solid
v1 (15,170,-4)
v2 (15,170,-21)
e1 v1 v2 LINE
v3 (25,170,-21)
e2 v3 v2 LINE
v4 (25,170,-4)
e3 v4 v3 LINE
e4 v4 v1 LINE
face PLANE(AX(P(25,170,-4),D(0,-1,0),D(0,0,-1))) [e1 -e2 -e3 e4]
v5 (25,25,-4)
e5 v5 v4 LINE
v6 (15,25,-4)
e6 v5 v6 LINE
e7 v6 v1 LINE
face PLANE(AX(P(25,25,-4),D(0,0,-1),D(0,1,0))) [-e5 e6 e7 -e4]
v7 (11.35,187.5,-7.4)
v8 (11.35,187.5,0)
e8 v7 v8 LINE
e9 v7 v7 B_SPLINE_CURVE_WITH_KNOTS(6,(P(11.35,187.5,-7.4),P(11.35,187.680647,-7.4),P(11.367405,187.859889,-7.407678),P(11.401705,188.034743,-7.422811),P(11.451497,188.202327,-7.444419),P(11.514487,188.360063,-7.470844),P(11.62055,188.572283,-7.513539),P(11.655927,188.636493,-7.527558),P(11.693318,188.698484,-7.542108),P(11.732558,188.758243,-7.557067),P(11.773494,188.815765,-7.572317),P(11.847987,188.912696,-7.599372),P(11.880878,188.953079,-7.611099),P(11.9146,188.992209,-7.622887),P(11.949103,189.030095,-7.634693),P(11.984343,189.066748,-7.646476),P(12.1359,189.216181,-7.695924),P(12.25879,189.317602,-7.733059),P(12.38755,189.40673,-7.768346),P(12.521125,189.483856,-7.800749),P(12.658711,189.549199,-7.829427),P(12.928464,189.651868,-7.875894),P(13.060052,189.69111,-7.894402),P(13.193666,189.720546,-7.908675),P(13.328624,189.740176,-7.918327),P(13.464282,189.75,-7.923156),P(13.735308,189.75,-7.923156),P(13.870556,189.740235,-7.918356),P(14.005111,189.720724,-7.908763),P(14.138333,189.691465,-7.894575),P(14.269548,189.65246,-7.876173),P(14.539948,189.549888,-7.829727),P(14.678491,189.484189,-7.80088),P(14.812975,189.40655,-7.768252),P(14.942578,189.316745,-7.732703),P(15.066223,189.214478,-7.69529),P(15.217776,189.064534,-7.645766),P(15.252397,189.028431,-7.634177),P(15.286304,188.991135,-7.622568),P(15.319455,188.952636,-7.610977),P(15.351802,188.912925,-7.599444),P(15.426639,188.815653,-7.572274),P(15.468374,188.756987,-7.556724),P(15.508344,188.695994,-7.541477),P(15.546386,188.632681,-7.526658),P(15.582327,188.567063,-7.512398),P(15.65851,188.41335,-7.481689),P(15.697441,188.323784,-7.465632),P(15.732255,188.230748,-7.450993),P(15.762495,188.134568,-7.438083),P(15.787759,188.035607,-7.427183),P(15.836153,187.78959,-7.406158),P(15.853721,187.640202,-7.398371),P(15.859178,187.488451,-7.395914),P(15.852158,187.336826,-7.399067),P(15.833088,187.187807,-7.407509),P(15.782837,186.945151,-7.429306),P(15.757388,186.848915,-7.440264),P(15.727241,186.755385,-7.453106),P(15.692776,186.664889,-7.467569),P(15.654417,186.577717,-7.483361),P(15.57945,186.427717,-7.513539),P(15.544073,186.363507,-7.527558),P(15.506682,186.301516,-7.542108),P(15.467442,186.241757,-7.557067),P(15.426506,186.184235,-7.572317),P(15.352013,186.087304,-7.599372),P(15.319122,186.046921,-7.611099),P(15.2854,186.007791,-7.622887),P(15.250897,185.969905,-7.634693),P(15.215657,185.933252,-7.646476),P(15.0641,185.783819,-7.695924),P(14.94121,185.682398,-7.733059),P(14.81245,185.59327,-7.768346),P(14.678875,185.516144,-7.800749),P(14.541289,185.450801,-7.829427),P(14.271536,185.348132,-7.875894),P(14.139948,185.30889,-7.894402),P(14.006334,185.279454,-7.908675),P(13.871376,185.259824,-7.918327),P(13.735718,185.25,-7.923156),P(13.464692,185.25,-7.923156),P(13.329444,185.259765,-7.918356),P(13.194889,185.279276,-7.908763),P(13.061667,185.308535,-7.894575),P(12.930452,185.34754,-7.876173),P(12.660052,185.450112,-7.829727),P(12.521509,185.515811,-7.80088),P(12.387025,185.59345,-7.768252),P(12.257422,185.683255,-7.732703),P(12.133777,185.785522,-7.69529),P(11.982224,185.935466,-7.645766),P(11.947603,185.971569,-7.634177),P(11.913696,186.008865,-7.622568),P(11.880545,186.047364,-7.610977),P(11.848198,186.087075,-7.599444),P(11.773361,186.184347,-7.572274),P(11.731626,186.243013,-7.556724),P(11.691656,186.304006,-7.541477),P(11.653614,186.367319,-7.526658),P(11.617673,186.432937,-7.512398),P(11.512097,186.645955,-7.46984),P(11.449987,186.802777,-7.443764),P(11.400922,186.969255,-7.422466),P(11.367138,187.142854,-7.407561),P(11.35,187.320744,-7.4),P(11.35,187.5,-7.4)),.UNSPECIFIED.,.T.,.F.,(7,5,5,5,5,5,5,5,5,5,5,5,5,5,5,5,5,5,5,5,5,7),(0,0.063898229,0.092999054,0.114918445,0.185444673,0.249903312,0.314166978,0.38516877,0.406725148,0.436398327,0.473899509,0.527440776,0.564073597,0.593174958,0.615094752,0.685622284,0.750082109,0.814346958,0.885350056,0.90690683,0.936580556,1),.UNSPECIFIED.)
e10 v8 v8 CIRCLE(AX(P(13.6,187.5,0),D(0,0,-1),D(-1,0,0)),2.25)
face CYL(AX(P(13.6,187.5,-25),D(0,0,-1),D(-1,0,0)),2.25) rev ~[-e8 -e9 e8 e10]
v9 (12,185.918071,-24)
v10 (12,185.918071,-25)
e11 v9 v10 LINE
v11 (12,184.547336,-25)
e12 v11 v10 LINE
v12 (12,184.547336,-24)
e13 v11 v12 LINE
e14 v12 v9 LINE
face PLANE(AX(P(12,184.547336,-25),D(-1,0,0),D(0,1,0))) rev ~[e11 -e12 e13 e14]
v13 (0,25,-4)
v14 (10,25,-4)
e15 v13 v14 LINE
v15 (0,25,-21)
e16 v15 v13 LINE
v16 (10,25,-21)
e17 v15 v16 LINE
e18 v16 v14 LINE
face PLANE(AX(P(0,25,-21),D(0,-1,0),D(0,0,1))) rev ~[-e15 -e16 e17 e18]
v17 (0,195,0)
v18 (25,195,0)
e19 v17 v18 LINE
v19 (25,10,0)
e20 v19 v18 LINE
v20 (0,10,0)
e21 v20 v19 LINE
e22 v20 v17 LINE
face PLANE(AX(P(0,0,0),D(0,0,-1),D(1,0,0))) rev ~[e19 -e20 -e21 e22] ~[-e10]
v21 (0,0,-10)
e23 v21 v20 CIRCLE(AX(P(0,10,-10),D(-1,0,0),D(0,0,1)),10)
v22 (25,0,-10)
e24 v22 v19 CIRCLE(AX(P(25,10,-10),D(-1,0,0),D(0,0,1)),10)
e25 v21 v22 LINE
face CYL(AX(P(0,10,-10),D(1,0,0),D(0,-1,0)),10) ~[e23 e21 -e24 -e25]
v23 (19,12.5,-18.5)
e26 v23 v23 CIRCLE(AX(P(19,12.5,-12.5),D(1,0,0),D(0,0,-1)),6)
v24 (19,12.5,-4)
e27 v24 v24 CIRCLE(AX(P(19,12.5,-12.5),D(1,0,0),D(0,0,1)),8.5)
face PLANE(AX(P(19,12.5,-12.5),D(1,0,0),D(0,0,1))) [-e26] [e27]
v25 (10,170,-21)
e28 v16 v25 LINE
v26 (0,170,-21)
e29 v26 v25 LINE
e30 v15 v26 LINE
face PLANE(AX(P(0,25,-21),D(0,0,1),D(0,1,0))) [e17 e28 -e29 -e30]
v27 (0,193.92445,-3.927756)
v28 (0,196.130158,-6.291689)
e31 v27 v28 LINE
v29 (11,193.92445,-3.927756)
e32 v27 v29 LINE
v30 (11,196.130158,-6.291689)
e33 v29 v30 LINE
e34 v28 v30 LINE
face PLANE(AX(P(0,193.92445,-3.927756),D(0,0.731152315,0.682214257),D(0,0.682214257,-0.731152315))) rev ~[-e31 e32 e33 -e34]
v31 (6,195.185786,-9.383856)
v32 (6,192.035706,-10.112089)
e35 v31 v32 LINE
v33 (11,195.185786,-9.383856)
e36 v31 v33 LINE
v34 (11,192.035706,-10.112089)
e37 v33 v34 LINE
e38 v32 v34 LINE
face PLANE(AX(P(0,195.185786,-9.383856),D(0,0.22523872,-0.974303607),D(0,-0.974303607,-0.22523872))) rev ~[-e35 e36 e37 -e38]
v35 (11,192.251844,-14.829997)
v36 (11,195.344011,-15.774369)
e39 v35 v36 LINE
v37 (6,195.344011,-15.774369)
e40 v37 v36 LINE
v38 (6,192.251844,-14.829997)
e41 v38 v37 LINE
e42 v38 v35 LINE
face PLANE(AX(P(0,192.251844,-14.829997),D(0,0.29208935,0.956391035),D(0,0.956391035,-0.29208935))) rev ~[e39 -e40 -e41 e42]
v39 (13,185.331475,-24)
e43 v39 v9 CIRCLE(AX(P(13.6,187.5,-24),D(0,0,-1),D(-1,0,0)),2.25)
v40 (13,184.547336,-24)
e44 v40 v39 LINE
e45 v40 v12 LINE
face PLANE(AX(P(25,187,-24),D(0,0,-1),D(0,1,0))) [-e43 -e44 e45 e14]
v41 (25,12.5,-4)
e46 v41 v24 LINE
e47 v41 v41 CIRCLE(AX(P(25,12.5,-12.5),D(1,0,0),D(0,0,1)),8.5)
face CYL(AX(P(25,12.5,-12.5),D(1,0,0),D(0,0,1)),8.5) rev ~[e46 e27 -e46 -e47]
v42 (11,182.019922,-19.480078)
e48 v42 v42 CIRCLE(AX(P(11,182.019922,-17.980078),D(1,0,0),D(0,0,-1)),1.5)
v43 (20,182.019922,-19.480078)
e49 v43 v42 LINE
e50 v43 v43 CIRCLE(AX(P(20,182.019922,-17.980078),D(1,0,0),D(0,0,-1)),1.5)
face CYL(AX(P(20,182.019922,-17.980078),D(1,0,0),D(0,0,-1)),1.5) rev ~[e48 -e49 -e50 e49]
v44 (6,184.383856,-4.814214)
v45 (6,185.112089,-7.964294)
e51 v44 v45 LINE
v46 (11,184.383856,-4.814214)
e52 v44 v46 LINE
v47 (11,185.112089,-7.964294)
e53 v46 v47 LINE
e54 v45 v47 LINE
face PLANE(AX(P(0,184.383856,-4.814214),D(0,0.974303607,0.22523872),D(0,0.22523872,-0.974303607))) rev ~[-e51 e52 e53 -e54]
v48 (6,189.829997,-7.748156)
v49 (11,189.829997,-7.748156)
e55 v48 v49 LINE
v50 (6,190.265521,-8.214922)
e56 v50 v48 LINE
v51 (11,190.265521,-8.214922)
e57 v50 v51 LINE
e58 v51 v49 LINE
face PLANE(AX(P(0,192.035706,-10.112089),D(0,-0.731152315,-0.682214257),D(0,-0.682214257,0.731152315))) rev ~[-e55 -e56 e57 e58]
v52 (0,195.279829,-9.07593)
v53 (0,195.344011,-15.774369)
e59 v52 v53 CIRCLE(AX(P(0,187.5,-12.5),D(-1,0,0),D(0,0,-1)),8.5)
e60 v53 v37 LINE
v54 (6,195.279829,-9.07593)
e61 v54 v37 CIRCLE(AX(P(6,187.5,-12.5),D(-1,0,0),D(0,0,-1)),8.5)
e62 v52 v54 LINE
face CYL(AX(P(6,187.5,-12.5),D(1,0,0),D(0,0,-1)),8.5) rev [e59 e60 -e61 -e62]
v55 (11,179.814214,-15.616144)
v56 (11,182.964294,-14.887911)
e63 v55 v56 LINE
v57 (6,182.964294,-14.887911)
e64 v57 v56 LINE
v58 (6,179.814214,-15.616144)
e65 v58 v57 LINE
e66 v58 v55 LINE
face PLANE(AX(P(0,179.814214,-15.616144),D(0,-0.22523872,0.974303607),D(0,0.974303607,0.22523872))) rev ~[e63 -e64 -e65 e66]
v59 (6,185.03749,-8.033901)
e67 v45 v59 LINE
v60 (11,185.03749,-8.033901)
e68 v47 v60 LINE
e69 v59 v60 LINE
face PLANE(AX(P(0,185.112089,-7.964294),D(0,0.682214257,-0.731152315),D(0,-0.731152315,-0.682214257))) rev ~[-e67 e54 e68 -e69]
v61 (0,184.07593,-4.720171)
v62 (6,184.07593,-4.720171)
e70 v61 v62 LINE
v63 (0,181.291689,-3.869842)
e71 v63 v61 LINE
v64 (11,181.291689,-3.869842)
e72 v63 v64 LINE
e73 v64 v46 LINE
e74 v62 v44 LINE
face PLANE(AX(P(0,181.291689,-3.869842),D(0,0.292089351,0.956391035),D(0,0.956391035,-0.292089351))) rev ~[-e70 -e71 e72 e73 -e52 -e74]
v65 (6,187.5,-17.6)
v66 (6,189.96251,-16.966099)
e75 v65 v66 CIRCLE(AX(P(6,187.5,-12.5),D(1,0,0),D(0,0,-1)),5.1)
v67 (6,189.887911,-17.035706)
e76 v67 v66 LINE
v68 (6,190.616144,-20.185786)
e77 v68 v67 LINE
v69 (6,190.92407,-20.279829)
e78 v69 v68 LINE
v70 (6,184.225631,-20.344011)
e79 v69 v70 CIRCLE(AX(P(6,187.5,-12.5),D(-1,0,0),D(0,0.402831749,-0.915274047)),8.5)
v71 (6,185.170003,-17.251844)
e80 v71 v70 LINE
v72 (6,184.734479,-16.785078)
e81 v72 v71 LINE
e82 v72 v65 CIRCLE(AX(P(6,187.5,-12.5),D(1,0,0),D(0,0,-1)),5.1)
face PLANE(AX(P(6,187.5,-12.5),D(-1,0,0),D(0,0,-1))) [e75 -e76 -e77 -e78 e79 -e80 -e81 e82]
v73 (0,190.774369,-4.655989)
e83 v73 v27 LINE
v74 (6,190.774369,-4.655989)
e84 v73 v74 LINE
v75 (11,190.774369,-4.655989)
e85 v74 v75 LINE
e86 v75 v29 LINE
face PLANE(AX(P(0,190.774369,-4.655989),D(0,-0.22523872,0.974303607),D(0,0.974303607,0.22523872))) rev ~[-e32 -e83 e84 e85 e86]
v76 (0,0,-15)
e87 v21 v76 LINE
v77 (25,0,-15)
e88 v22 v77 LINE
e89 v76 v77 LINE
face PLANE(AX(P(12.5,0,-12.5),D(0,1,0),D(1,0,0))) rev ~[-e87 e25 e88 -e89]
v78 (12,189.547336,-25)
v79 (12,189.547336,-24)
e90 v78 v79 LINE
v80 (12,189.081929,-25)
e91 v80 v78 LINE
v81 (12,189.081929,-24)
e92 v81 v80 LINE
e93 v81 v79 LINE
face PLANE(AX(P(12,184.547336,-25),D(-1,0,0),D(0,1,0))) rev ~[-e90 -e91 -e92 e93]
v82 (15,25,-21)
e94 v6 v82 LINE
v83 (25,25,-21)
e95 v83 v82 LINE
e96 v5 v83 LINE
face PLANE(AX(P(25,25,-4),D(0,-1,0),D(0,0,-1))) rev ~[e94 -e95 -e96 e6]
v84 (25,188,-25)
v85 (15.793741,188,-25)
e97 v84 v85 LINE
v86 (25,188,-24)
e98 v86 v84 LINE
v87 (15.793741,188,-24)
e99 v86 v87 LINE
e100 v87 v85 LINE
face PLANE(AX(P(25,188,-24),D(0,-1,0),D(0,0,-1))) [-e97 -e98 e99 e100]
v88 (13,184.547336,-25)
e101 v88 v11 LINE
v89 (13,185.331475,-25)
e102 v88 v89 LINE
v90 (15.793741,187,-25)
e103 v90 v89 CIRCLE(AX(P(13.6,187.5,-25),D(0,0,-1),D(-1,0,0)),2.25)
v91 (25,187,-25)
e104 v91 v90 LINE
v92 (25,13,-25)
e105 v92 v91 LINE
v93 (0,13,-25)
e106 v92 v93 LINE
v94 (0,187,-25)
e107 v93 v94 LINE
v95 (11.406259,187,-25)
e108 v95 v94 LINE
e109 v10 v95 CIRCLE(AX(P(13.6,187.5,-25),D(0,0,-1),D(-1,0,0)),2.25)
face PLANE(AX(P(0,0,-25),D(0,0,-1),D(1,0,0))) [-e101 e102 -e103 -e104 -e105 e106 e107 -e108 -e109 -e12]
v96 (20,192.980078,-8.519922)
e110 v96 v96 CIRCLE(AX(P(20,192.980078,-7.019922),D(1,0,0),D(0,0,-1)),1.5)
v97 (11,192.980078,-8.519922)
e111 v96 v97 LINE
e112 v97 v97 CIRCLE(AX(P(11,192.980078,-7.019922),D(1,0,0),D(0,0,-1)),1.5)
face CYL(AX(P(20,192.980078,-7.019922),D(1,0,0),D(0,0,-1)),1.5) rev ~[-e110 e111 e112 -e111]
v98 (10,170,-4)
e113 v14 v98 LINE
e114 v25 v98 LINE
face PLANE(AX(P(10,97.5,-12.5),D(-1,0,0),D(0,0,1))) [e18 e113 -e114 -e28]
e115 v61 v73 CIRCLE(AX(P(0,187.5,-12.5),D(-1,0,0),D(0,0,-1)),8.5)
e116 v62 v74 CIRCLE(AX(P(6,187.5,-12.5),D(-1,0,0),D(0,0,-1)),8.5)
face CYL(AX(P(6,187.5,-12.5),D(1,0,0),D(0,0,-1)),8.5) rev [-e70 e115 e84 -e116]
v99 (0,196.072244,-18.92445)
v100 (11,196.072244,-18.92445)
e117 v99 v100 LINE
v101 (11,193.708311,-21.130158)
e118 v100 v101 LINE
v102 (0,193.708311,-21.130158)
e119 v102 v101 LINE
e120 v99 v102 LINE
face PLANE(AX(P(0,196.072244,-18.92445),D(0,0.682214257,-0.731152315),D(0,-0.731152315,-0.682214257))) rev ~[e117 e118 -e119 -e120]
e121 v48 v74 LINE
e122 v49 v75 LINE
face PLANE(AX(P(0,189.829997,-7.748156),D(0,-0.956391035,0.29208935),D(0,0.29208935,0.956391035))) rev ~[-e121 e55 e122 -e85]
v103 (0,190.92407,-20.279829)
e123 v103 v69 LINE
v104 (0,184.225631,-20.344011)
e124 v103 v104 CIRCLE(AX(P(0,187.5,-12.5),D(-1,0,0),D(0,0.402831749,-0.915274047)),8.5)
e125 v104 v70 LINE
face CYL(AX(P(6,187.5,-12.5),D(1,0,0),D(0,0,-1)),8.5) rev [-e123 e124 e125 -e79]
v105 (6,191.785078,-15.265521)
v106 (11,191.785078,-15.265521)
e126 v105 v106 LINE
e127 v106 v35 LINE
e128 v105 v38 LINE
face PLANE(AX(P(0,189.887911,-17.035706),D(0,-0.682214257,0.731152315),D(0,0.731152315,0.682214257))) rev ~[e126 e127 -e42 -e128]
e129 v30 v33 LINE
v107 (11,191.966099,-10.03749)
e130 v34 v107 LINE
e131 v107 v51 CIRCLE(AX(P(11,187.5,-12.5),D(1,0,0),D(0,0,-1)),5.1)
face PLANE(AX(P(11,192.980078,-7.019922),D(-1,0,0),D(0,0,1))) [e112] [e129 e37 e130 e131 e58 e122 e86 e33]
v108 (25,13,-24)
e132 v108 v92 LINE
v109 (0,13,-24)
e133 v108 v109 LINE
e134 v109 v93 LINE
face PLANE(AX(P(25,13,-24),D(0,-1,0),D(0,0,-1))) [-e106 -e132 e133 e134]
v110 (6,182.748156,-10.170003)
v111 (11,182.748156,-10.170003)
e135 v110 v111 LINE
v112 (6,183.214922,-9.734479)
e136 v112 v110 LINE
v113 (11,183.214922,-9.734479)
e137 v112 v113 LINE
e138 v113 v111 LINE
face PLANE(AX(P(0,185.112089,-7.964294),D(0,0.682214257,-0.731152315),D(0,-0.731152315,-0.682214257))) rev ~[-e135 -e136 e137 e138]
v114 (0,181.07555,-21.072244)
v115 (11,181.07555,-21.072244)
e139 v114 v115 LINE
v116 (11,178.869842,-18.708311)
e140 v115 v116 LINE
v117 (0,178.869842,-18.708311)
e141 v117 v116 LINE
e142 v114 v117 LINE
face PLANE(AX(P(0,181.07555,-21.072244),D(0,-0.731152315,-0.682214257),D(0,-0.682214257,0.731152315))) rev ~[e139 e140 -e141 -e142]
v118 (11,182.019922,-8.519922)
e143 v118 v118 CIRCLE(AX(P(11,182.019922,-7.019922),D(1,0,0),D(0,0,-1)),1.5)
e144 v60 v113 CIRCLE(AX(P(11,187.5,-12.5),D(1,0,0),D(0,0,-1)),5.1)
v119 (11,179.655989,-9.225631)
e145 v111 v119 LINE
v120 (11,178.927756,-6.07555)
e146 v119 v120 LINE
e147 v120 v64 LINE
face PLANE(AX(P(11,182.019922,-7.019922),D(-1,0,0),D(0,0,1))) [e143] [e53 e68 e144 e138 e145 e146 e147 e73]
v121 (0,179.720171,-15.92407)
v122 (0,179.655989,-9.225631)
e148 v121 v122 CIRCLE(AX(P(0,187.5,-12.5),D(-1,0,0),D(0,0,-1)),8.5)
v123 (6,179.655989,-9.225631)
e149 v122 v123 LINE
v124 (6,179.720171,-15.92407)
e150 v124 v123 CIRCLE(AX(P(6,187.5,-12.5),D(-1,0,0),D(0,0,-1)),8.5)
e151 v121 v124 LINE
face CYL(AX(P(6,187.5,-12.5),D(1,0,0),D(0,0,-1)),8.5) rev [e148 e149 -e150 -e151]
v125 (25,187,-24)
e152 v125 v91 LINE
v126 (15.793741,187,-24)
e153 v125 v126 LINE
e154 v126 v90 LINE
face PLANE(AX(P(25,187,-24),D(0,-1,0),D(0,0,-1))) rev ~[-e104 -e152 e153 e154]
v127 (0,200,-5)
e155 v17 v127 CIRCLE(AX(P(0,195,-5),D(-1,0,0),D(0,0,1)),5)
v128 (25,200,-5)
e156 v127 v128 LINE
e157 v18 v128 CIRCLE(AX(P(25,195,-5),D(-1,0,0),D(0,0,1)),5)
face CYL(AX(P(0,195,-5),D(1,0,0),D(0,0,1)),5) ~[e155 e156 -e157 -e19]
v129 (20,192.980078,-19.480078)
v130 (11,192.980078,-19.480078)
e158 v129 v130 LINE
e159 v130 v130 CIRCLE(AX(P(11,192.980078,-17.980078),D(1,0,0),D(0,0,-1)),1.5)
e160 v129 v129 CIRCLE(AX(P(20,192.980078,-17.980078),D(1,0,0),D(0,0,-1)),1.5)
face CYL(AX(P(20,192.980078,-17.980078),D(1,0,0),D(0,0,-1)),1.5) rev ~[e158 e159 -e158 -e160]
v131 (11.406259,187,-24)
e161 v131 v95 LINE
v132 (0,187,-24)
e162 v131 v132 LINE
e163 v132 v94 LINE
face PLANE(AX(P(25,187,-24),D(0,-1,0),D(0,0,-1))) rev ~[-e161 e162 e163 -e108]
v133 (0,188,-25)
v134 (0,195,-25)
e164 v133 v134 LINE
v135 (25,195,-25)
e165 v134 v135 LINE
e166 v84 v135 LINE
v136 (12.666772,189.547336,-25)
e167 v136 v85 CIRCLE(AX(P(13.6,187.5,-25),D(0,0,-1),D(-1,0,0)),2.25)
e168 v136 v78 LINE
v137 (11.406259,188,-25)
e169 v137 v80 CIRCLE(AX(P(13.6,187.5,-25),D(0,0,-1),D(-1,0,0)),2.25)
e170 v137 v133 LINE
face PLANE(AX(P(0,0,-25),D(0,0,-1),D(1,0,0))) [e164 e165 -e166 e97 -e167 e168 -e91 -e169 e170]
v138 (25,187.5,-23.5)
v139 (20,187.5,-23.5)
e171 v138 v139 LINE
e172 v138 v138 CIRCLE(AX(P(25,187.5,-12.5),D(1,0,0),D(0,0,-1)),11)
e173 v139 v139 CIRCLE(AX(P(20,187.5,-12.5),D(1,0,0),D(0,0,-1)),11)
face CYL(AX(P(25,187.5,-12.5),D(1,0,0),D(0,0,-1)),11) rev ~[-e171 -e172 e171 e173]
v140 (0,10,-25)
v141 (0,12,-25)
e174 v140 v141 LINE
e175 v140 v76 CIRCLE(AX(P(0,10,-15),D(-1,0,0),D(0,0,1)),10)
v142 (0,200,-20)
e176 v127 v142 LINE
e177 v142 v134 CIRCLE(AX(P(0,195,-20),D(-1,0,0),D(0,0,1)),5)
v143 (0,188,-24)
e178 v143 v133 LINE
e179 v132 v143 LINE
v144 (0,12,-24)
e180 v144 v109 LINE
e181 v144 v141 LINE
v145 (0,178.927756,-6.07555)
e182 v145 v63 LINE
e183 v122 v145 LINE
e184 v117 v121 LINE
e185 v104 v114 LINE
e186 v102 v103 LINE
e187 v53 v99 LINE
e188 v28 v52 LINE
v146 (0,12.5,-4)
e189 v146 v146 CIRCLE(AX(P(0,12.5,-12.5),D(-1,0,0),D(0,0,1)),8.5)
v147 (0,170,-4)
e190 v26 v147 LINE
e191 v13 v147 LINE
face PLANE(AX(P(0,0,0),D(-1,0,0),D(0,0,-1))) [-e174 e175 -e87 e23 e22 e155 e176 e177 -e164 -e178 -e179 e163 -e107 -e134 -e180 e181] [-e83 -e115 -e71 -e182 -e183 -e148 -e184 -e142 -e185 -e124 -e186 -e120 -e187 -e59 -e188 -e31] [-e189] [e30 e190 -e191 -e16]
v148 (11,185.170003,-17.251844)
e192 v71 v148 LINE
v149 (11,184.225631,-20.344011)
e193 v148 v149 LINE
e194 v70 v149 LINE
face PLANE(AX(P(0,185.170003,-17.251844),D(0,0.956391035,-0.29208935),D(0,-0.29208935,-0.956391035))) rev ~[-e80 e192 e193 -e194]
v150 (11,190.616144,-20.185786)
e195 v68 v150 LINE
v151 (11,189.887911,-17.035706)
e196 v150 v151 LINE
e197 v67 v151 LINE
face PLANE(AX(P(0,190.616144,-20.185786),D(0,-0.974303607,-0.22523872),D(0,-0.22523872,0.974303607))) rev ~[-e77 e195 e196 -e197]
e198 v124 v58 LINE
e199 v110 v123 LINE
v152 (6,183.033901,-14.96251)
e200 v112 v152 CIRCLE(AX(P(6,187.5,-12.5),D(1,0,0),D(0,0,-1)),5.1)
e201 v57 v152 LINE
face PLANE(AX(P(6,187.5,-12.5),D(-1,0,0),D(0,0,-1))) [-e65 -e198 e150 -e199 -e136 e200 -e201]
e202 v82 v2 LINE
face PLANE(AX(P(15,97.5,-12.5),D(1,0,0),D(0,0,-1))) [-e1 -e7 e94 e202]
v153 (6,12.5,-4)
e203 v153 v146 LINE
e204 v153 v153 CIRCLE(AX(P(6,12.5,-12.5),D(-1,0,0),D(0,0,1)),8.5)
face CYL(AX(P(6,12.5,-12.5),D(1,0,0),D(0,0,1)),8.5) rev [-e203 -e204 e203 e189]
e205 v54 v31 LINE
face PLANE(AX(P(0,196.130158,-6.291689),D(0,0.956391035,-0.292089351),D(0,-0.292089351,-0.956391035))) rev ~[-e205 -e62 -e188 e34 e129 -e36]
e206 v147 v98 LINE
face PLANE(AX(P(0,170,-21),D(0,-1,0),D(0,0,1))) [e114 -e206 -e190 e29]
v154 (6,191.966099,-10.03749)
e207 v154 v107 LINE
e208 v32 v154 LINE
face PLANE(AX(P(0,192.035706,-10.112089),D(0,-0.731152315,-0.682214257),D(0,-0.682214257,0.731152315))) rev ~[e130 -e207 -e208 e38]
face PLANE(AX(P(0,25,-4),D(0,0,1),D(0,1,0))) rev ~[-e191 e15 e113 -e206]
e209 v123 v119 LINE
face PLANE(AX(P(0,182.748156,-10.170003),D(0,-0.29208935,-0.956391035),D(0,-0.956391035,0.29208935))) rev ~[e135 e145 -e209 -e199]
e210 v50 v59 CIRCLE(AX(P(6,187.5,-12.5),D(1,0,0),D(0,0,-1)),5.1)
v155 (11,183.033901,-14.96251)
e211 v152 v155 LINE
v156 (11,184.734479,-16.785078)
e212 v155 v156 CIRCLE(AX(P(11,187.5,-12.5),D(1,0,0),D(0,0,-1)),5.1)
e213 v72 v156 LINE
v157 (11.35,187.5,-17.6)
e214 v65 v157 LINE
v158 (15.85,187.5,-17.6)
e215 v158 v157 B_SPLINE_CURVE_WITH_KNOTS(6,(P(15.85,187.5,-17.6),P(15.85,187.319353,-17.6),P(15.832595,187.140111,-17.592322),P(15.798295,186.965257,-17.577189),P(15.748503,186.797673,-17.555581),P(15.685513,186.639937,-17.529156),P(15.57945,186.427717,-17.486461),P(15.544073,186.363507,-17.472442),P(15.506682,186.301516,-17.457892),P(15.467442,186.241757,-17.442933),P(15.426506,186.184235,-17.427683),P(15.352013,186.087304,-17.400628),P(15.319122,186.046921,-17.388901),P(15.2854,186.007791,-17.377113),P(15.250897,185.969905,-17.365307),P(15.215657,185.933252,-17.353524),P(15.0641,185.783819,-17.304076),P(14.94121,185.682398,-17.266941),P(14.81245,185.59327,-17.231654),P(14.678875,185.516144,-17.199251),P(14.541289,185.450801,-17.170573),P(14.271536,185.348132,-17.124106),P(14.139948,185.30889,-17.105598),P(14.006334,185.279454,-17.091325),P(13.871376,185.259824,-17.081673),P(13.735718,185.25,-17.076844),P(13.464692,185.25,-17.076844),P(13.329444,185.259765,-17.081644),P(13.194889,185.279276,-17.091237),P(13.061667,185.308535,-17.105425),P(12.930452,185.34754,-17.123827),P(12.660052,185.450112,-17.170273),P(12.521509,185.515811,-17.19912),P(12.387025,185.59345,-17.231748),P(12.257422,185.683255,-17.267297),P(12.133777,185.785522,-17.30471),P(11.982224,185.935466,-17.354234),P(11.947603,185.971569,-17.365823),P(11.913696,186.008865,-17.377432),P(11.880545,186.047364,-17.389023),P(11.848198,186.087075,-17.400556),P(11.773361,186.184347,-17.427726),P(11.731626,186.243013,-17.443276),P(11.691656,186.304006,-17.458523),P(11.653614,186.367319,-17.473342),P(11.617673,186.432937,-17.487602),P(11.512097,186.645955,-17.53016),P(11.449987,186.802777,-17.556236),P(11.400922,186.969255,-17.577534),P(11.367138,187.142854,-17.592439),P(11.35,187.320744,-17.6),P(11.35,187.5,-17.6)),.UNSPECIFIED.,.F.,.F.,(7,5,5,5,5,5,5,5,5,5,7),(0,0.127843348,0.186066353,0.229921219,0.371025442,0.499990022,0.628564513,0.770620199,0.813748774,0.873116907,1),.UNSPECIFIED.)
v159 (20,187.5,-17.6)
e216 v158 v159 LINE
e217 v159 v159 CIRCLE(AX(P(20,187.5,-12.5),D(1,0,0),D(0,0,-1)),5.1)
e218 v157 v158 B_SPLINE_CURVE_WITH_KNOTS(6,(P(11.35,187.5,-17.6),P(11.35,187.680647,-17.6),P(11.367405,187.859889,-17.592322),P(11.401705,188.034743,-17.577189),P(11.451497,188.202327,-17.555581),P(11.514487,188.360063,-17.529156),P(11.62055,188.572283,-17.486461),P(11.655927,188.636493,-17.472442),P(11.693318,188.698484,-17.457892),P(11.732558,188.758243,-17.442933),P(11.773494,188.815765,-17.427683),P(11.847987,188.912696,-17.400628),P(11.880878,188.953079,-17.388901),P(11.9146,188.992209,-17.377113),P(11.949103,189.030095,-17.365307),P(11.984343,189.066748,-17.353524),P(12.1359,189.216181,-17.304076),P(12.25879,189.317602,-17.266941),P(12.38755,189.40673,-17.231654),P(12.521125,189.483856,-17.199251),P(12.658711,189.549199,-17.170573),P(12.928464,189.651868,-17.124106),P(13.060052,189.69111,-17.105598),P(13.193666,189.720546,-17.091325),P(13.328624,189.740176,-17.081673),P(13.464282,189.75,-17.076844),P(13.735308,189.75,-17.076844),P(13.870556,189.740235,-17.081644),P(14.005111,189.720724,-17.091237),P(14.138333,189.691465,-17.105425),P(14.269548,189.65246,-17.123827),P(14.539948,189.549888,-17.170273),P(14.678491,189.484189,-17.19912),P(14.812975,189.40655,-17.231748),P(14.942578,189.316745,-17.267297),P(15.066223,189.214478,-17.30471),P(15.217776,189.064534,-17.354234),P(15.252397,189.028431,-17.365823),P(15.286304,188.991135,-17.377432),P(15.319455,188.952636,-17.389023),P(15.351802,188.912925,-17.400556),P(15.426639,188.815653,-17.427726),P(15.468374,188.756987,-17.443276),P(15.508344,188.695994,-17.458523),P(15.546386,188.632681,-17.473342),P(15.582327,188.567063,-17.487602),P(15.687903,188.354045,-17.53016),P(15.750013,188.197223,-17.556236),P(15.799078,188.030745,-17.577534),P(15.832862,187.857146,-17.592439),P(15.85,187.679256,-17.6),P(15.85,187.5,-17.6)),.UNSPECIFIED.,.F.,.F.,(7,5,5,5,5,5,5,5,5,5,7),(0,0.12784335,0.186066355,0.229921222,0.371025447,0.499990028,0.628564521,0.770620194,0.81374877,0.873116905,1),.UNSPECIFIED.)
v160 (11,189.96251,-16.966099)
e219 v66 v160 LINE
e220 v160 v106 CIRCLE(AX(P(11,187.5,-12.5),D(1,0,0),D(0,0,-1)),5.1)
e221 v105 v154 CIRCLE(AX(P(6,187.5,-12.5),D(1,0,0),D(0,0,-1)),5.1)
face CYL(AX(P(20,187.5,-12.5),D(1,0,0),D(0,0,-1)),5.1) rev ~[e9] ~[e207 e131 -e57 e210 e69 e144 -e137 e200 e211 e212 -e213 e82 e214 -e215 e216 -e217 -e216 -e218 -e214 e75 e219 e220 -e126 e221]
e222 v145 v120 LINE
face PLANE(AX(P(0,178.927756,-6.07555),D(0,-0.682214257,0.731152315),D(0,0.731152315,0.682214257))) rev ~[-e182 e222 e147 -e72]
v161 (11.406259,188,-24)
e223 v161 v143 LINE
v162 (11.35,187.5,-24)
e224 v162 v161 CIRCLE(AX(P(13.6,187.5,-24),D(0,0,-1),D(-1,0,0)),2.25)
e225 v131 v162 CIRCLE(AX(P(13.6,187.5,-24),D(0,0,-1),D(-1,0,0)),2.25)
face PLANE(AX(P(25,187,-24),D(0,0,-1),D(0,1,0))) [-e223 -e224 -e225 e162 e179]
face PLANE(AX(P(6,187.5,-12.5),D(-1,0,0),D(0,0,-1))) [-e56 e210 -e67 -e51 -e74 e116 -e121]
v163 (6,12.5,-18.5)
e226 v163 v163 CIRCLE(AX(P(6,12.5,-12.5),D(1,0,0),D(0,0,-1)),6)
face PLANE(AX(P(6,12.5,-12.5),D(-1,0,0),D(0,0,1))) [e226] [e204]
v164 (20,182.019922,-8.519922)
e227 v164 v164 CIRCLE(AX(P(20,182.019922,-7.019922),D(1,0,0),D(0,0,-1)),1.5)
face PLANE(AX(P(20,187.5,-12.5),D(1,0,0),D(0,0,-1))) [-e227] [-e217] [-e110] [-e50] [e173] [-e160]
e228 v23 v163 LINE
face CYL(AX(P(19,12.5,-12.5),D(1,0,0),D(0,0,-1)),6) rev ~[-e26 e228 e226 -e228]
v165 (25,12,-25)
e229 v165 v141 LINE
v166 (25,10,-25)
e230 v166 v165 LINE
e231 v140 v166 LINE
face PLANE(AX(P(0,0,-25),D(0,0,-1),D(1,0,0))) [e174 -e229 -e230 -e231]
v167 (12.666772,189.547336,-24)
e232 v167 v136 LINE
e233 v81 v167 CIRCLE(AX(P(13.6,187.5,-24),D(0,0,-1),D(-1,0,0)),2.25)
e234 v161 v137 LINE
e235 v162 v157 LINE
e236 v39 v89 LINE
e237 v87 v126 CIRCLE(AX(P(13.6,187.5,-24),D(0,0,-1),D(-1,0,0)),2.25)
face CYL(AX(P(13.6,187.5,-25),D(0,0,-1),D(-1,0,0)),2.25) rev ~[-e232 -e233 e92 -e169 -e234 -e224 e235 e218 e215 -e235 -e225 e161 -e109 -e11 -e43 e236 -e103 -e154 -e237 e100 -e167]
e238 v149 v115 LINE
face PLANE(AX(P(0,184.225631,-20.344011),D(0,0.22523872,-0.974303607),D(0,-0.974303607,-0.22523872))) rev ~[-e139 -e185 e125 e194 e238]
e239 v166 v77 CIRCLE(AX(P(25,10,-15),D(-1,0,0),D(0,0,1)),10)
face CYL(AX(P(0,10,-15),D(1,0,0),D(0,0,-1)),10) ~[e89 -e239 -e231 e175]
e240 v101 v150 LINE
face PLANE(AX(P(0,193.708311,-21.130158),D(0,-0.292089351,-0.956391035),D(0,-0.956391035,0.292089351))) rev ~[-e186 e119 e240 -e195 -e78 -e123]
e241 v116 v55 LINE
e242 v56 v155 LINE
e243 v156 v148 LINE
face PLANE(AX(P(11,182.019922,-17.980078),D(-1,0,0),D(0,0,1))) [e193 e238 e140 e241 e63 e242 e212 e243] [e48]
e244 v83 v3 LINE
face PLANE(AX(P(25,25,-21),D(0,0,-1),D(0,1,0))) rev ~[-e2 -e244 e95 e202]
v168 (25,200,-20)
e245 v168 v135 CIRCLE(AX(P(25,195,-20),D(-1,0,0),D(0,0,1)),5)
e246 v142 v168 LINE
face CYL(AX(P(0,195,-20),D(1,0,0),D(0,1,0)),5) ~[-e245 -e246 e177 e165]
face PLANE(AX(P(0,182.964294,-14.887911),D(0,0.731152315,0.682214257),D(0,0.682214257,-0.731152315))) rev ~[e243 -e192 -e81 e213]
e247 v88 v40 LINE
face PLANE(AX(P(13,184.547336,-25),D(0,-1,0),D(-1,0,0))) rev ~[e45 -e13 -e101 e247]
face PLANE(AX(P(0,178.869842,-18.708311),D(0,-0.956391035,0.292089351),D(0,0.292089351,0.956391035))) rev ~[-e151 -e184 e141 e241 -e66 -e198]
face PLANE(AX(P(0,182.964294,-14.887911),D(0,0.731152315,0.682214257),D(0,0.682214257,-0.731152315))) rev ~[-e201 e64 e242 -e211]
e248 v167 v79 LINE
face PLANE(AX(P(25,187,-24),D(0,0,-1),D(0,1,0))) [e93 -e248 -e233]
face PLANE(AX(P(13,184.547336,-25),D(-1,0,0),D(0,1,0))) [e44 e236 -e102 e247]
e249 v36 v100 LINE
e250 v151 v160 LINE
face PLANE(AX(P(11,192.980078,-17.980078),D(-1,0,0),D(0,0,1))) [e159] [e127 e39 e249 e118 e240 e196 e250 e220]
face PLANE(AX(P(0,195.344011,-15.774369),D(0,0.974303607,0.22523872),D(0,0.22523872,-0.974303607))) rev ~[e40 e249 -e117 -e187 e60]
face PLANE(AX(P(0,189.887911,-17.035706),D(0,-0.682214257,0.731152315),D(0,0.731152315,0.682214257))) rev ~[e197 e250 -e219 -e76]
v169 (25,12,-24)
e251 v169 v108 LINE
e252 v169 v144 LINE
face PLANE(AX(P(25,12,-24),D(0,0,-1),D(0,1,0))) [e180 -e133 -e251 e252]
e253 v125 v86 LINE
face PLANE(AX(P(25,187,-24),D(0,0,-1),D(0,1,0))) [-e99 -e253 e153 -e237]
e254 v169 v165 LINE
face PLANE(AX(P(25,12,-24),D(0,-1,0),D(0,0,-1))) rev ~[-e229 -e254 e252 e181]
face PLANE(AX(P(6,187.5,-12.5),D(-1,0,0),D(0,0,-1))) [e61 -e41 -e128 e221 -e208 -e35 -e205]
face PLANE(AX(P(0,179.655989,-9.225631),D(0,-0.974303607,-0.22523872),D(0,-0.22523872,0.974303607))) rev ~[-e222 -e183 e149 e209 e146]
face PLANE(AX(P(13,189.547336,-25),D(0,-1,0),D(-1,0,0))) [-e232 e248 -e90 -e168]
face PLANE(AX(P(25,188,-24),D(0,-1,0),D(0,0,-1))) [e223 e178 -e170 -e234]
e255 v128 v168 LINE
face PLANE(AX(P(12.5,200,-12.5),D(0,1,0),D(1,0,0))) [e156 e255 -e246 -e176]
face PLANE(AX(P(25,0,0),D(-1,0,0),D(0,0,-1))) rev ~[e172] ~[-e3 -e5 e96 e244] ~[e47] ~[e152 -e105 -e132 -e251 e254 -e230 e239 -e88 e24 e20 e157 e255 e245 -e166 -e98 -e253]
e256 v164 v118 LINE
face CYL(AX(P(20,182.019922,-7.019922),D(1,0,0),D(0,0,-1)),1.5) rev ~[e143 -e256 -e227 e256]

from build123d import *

# Parameters (mm, degrees)
CROQUIS1_W              = 25
CROQUIS1_H              = 25
SALIENTE_EXTRUIR1_DEPTH = 200
REDONDEO1_R             = 10
REDONDEO2_R             = 10
REDONDEO3_R             = 5
REDONDEO4_R             = 5
CROQUIS2_R              = 11
CROQUIS2_R_2            = 8.5
CORTAR_EXTRUIR1_DEPTH   = 6
CORTAR_EXTRUIR2_START   = -6
CROQUIS3_R              = 8.5
CORTAR_EXTRUIR2_DEPTH   = 6
CROQUIS9_R              = 5.1
CROQUIS9_R_2            = 6
CORTAR_EXTRUIR6_DEPTH   = 30
CROQUIS13_W             = 1
CROQUIS13_H             = 5
CORTAR_EXTRUIR8_DEPTH   = 1
SALIENTE_EXTRUIR3_START = 1
CROQUIS14_R             = 11
CROQUIS14_R_2           = 5.1
SALIENTE_EXTRUIR3_DEPTH = 1
CROQUIS15_R             = 1.5
CORTAR_EXTRUIR9_DEPTH   = 16
CORTAR_EXTRUIR10_DEPTH  = 11
CORTAR_EXTRUIR12_REACH  = 205.101
CROQUIS18_W             = 1
CROQUIS18_H             = 1
CROQUIS19_W             = 17
CROQUIS19_H             = 145
CORTAR_EXTRUIR13_DEPTH  = 10
CROQUIS20_W             = 17
CROQUIS20_H             = 145
CORTAR_EXTRUIR14_DEPTH  = 10
CROQUIS12_R             = 2.25
CORTAR_EXTRUIR7_DEPTH   = 204.100960116


with BuildPart() as part:
    # Croquis1 → Saliente-Extruir1 (new body)
    with BuildSketch(Plane(origin=(0, 0, 0), x_dir=(1, 0, 0), z_dir=(0, 1, 0))):
        with Locations((12.5, 12.5)):
            Rectangle(CROQUIS1_W, CROQUIS1_H)
    extrude(amount=SALIENTE_EXTRUIR1_DEPTH)

    # Redondeo1
    redondeo1_edges = [part.edges().sort_by_distance(p)[0] for p in [
        (12.5, 0, -25),
    ]]
    fillet(redondeo1_edges, radius=REDONDEO1_R)

    # Redondeo2
    redondeo2_edges = [part.edges().sort_by_distance(p)[0] for p in [
        (12.5, 0, 0),
    ]]
    fillet(redondeo2_edges, radius=REDONDEO2_R)

    # Redondeo3
    redondeo3_edges = [part.edges().sort_by_distance(p)[0] for p in [
        (12.5, 200, 0),
    ]]
    fillet(redondeo3_edges, radius=REDONDEO3_R)

    # Redondeo4
    redondeo4_edges = [part.edges().sort_by_distance(p)[0] for p in [
        (12.5, 200, -25),
    ]]
    fillet(redondeo4_edges, radius=REDONDEO4_R)

    # Croquis2 → Cortar-Extruir1 (cut)
    with BuildSketch(Plane(origin=(25, 0, 0), x_dir=(0, 0, -1), z_dir=(1, 0, 0))):
        with Locations((12.5, 187.5)):
            Circle(CROQUIS2_R)
        with Locations(Location((12.5, 12.5, 0), (0, 0, 180))):
            Circle(CROQUIS2_R_2)
    extrude(amount=-CORTAR_EXTRUIR1_DEPTH, mode=Mode.SUBTRACT)

    # Croquis3 → Cortar-Extruir2 (cut)
    with BuildSketch(Plane.ZY.offset(CORTAR_EXTRUIR2_START)):
        with Locations((-12.5, 12.5)):
            Circle(CROQUIS3_R)
        with Locations(Location((-12.5, 187.5, 0), (0, 0, 180))):
            Circle(CROQUIS3_R)
    extrude(amount=CORTAR_EXTRUIR2_DEPTH, mode=Mode.SUBTRACT)

    # Croquis9 → Cortar-Extruir6 (cut)
    with BuildSketch(Plane(origin=(19, 0, 0), x_dir=(0, 0, -1), z_dir=(1, 0, 0))):
        with Locations((12.5, 187.5)):
            Circle(CROQUIS9_R)
        with Locations((12.5, 12.5)):
            Circle(CROQUIS9_R_2)
    extrude(amount=-CORTAR_EXTRUIR6_DEPTH, mode=Mode.SUBTRACT)

    # Croquis13 → Cortar-Extruir8 (cut)
    with BuildSketch(Plane(origin=(0, 0, -25), x_dir=(-1, 0, 0), z_dir=(0, 0, -1))):
        with Locations((-12.5, 187.04733642)):
            Rectangle(CROQUIS13_W, CROQUIS13_H)
    extrude(amount=-CORTAR_EXTRUIR8_DEPTH, mode=Mode.SUBTRACT)

    # Croquis14 → Saliente-Extruir3 (add)
    with BuildSketch(Plane(origin=(19, 0, 0), x_dir=(0, 0, -1), z_dir=(1, 0, 0)).offset(SALIENTE_EXTRUIR3_START)):
        with Locations((12.5, 187.5)):
            Circle(CROQUIS14_R)
        with Locations((12.5, 187.5)):
            Circle(CROQUIS14_R_2, mode=Mode.SUBTRACT)
    extrude(amount=-SALIENTE_EXTRUIR3_DEPTH)

    # Croquis15 → Cortar-Extruir9 (cut)
    with BuildSketch(Plane(origin=(20, 0, 0), x_dir=(0, 0, -1), z_dir=(1, 0, 0))):
        with Locations((17.980077554, 182.019922446)):
            Circle(CROQUIS15_R)
        with Locations((7.019922446, 182.019922446)):
            Circle(CROQUIS15_R)
        with Locations((7.019922446, 192.980077554)):
            Circle(CROQUIS15_R)
        with Locations((17.980077554, 192.980077554)):
            Circle(CROQUIS15_R)
    extrude(amount=-CORTAR_EXTRUIR9_DEPTH, mode=Mode.SUBTRACT)

    # Croquis16 → Cortar-Extruir10 (cut)
    with BuildSketch(Plane.ZY):
        Polygon((-14.829996635, 192.251844396), (-15.774368679, 195.344011075), (-18.924449599, 196.072244234), (-21.130158474, 193.708310713), (-20.185786429, 190.616144033), (-17.035705509, 189.887910875), align=None)
        Polygon((-17.251844396, 185.170003365), (-20.344011075, 184.225631321), (-21.072244234, 181.075550401), (-18.708310713, 178.869841526), (-15.616144033, 179.814213571), (-14.887910875, 182.964294491), align=None)
        Polygon((-7.748155604, 189.829996635), (-4.655988925, 190.774368679), (-3.927755766, 193.924449599), (-6.291689287, 196.130158474), (-9.383855967, 195.185786429), (-10.112089125, 192.035705509), align=None)
        Polygon((-10.170003365, 182.748155604), (-9.225631321, 179.655988925), (-6.075550401, 178.927755766), (-3.869841526, 181.291689287), (-4.814213571, 184.383855967), (-7.964294491, 185.112089125), align=None)
    extrude(amount=-CORTAR_EXTRUIR10_DEPTH, mode=Mode.SUBTRACT)

    # Cortar-Extruir12: up to this face of the body (flat: up to its plane)
    cortar_extruir12_end = Plane(part.part.faces().sort_by_distance((0, 99.909973265, -12.5))[0])
    # Croquis18 → Cortar-Extruir12 (cut, up to the picked face)
    with BuildSketch(Plane(origin=(25, 0, 0), x_dir=(0, 0, -1), z_dir=(1, 0, 0)), mode=Mode.PRIVATE) as cortar_extruir12_sk1:
        with Locations((24.5, 187.5)):
            Rectangle(CROQUIS18_W, CROQUIS18_H)
    cortar_extruir12_tool1 = split(extrude(cortar_extruir12_sk1.sketch, amount=-CORTAR_EXTRUIR12_REACH, mode=Mode.PRIVATE), bisect_by=cortar_extruir12_end, keep=Keep.BOTH, mode=Mode.PRIVATE)
    # Croquis18 → Cortar-Extruir12 (cut, up to the picked face)
    with BuildSketch(Plane(origin=(25, 0, 0), x_dir=(0, 0, -1), z_dir=(1, 0, 0)), mode=Mode.PRIVATE) as cortar_extruir12_sk2:
        with Locations((24.5, 12.5)):
            Rectangle(CROQUIS18_W, CROQUIS18_H)
    cortar_extruir12_tool2 = split(extrude(cortar_extruir12_sk2.sketch, amount=-CORTAR_EXTRUIR12_REACH, mode=Mode.PRIVATE), bisect_by=cortar_extruir12_end, keep=Keep.BOTH, mode=Mode.PRIVATE)
    add(cortar_extruir12_tool1.solids().sort_by(Axis((25, 187.5, -24.5), (-1, 0, 0)))[0], mode=Mode.SUBTRACT)
    add(cortar_extruir12_tool2.solids().sort_by(Axis((25, 12.5, -24.5), (-1, 0, 0)))[0], mode=Mode.SUBTRACT)

    # Croquis19 → Cortar-Extruir13 (cut)
    with BuildSketch(Plane(origin=(25, 0, 0), x_dir=(0, 0, -1), z_dir=(1, 0, 0))):
        with Locations((12.5, 97.5)):
            Rectangle(CROQUIS19_W, CROQUIS19_H)
    extrude(amount=-CORTAR_EXTRUIR13_DEPTH, mode=Mode.SUBTRACT)

    # Croquis20 → Cortar-Extruir14 (cut)
    with BuildSketch(Plane.ZY):
        with Locations((-12.5, 97.5)):
            Rectangle(CROQUIS20_W, CROQUIS20_H)
    extrude(amount=-CORTAR_EXTRUIR14_DEPTH, mode=Mode.SUBTRACT)

    # Croquis12 → Cortar-Extruir7 (cut, through all)
    with BuildSketch(Plane(origin=(0, 0, -25), x_dir=(-1, 0, 0), z_dir=(0, 0, -1))):
        with Locations((-13.6, 187.5)):
            Circle(CROQUIS12_R)
    extrude(amount=-CORTAR_EXTRUIR7_DEPTH, mode=Mode.SUBTRACT)


solid = part.part
